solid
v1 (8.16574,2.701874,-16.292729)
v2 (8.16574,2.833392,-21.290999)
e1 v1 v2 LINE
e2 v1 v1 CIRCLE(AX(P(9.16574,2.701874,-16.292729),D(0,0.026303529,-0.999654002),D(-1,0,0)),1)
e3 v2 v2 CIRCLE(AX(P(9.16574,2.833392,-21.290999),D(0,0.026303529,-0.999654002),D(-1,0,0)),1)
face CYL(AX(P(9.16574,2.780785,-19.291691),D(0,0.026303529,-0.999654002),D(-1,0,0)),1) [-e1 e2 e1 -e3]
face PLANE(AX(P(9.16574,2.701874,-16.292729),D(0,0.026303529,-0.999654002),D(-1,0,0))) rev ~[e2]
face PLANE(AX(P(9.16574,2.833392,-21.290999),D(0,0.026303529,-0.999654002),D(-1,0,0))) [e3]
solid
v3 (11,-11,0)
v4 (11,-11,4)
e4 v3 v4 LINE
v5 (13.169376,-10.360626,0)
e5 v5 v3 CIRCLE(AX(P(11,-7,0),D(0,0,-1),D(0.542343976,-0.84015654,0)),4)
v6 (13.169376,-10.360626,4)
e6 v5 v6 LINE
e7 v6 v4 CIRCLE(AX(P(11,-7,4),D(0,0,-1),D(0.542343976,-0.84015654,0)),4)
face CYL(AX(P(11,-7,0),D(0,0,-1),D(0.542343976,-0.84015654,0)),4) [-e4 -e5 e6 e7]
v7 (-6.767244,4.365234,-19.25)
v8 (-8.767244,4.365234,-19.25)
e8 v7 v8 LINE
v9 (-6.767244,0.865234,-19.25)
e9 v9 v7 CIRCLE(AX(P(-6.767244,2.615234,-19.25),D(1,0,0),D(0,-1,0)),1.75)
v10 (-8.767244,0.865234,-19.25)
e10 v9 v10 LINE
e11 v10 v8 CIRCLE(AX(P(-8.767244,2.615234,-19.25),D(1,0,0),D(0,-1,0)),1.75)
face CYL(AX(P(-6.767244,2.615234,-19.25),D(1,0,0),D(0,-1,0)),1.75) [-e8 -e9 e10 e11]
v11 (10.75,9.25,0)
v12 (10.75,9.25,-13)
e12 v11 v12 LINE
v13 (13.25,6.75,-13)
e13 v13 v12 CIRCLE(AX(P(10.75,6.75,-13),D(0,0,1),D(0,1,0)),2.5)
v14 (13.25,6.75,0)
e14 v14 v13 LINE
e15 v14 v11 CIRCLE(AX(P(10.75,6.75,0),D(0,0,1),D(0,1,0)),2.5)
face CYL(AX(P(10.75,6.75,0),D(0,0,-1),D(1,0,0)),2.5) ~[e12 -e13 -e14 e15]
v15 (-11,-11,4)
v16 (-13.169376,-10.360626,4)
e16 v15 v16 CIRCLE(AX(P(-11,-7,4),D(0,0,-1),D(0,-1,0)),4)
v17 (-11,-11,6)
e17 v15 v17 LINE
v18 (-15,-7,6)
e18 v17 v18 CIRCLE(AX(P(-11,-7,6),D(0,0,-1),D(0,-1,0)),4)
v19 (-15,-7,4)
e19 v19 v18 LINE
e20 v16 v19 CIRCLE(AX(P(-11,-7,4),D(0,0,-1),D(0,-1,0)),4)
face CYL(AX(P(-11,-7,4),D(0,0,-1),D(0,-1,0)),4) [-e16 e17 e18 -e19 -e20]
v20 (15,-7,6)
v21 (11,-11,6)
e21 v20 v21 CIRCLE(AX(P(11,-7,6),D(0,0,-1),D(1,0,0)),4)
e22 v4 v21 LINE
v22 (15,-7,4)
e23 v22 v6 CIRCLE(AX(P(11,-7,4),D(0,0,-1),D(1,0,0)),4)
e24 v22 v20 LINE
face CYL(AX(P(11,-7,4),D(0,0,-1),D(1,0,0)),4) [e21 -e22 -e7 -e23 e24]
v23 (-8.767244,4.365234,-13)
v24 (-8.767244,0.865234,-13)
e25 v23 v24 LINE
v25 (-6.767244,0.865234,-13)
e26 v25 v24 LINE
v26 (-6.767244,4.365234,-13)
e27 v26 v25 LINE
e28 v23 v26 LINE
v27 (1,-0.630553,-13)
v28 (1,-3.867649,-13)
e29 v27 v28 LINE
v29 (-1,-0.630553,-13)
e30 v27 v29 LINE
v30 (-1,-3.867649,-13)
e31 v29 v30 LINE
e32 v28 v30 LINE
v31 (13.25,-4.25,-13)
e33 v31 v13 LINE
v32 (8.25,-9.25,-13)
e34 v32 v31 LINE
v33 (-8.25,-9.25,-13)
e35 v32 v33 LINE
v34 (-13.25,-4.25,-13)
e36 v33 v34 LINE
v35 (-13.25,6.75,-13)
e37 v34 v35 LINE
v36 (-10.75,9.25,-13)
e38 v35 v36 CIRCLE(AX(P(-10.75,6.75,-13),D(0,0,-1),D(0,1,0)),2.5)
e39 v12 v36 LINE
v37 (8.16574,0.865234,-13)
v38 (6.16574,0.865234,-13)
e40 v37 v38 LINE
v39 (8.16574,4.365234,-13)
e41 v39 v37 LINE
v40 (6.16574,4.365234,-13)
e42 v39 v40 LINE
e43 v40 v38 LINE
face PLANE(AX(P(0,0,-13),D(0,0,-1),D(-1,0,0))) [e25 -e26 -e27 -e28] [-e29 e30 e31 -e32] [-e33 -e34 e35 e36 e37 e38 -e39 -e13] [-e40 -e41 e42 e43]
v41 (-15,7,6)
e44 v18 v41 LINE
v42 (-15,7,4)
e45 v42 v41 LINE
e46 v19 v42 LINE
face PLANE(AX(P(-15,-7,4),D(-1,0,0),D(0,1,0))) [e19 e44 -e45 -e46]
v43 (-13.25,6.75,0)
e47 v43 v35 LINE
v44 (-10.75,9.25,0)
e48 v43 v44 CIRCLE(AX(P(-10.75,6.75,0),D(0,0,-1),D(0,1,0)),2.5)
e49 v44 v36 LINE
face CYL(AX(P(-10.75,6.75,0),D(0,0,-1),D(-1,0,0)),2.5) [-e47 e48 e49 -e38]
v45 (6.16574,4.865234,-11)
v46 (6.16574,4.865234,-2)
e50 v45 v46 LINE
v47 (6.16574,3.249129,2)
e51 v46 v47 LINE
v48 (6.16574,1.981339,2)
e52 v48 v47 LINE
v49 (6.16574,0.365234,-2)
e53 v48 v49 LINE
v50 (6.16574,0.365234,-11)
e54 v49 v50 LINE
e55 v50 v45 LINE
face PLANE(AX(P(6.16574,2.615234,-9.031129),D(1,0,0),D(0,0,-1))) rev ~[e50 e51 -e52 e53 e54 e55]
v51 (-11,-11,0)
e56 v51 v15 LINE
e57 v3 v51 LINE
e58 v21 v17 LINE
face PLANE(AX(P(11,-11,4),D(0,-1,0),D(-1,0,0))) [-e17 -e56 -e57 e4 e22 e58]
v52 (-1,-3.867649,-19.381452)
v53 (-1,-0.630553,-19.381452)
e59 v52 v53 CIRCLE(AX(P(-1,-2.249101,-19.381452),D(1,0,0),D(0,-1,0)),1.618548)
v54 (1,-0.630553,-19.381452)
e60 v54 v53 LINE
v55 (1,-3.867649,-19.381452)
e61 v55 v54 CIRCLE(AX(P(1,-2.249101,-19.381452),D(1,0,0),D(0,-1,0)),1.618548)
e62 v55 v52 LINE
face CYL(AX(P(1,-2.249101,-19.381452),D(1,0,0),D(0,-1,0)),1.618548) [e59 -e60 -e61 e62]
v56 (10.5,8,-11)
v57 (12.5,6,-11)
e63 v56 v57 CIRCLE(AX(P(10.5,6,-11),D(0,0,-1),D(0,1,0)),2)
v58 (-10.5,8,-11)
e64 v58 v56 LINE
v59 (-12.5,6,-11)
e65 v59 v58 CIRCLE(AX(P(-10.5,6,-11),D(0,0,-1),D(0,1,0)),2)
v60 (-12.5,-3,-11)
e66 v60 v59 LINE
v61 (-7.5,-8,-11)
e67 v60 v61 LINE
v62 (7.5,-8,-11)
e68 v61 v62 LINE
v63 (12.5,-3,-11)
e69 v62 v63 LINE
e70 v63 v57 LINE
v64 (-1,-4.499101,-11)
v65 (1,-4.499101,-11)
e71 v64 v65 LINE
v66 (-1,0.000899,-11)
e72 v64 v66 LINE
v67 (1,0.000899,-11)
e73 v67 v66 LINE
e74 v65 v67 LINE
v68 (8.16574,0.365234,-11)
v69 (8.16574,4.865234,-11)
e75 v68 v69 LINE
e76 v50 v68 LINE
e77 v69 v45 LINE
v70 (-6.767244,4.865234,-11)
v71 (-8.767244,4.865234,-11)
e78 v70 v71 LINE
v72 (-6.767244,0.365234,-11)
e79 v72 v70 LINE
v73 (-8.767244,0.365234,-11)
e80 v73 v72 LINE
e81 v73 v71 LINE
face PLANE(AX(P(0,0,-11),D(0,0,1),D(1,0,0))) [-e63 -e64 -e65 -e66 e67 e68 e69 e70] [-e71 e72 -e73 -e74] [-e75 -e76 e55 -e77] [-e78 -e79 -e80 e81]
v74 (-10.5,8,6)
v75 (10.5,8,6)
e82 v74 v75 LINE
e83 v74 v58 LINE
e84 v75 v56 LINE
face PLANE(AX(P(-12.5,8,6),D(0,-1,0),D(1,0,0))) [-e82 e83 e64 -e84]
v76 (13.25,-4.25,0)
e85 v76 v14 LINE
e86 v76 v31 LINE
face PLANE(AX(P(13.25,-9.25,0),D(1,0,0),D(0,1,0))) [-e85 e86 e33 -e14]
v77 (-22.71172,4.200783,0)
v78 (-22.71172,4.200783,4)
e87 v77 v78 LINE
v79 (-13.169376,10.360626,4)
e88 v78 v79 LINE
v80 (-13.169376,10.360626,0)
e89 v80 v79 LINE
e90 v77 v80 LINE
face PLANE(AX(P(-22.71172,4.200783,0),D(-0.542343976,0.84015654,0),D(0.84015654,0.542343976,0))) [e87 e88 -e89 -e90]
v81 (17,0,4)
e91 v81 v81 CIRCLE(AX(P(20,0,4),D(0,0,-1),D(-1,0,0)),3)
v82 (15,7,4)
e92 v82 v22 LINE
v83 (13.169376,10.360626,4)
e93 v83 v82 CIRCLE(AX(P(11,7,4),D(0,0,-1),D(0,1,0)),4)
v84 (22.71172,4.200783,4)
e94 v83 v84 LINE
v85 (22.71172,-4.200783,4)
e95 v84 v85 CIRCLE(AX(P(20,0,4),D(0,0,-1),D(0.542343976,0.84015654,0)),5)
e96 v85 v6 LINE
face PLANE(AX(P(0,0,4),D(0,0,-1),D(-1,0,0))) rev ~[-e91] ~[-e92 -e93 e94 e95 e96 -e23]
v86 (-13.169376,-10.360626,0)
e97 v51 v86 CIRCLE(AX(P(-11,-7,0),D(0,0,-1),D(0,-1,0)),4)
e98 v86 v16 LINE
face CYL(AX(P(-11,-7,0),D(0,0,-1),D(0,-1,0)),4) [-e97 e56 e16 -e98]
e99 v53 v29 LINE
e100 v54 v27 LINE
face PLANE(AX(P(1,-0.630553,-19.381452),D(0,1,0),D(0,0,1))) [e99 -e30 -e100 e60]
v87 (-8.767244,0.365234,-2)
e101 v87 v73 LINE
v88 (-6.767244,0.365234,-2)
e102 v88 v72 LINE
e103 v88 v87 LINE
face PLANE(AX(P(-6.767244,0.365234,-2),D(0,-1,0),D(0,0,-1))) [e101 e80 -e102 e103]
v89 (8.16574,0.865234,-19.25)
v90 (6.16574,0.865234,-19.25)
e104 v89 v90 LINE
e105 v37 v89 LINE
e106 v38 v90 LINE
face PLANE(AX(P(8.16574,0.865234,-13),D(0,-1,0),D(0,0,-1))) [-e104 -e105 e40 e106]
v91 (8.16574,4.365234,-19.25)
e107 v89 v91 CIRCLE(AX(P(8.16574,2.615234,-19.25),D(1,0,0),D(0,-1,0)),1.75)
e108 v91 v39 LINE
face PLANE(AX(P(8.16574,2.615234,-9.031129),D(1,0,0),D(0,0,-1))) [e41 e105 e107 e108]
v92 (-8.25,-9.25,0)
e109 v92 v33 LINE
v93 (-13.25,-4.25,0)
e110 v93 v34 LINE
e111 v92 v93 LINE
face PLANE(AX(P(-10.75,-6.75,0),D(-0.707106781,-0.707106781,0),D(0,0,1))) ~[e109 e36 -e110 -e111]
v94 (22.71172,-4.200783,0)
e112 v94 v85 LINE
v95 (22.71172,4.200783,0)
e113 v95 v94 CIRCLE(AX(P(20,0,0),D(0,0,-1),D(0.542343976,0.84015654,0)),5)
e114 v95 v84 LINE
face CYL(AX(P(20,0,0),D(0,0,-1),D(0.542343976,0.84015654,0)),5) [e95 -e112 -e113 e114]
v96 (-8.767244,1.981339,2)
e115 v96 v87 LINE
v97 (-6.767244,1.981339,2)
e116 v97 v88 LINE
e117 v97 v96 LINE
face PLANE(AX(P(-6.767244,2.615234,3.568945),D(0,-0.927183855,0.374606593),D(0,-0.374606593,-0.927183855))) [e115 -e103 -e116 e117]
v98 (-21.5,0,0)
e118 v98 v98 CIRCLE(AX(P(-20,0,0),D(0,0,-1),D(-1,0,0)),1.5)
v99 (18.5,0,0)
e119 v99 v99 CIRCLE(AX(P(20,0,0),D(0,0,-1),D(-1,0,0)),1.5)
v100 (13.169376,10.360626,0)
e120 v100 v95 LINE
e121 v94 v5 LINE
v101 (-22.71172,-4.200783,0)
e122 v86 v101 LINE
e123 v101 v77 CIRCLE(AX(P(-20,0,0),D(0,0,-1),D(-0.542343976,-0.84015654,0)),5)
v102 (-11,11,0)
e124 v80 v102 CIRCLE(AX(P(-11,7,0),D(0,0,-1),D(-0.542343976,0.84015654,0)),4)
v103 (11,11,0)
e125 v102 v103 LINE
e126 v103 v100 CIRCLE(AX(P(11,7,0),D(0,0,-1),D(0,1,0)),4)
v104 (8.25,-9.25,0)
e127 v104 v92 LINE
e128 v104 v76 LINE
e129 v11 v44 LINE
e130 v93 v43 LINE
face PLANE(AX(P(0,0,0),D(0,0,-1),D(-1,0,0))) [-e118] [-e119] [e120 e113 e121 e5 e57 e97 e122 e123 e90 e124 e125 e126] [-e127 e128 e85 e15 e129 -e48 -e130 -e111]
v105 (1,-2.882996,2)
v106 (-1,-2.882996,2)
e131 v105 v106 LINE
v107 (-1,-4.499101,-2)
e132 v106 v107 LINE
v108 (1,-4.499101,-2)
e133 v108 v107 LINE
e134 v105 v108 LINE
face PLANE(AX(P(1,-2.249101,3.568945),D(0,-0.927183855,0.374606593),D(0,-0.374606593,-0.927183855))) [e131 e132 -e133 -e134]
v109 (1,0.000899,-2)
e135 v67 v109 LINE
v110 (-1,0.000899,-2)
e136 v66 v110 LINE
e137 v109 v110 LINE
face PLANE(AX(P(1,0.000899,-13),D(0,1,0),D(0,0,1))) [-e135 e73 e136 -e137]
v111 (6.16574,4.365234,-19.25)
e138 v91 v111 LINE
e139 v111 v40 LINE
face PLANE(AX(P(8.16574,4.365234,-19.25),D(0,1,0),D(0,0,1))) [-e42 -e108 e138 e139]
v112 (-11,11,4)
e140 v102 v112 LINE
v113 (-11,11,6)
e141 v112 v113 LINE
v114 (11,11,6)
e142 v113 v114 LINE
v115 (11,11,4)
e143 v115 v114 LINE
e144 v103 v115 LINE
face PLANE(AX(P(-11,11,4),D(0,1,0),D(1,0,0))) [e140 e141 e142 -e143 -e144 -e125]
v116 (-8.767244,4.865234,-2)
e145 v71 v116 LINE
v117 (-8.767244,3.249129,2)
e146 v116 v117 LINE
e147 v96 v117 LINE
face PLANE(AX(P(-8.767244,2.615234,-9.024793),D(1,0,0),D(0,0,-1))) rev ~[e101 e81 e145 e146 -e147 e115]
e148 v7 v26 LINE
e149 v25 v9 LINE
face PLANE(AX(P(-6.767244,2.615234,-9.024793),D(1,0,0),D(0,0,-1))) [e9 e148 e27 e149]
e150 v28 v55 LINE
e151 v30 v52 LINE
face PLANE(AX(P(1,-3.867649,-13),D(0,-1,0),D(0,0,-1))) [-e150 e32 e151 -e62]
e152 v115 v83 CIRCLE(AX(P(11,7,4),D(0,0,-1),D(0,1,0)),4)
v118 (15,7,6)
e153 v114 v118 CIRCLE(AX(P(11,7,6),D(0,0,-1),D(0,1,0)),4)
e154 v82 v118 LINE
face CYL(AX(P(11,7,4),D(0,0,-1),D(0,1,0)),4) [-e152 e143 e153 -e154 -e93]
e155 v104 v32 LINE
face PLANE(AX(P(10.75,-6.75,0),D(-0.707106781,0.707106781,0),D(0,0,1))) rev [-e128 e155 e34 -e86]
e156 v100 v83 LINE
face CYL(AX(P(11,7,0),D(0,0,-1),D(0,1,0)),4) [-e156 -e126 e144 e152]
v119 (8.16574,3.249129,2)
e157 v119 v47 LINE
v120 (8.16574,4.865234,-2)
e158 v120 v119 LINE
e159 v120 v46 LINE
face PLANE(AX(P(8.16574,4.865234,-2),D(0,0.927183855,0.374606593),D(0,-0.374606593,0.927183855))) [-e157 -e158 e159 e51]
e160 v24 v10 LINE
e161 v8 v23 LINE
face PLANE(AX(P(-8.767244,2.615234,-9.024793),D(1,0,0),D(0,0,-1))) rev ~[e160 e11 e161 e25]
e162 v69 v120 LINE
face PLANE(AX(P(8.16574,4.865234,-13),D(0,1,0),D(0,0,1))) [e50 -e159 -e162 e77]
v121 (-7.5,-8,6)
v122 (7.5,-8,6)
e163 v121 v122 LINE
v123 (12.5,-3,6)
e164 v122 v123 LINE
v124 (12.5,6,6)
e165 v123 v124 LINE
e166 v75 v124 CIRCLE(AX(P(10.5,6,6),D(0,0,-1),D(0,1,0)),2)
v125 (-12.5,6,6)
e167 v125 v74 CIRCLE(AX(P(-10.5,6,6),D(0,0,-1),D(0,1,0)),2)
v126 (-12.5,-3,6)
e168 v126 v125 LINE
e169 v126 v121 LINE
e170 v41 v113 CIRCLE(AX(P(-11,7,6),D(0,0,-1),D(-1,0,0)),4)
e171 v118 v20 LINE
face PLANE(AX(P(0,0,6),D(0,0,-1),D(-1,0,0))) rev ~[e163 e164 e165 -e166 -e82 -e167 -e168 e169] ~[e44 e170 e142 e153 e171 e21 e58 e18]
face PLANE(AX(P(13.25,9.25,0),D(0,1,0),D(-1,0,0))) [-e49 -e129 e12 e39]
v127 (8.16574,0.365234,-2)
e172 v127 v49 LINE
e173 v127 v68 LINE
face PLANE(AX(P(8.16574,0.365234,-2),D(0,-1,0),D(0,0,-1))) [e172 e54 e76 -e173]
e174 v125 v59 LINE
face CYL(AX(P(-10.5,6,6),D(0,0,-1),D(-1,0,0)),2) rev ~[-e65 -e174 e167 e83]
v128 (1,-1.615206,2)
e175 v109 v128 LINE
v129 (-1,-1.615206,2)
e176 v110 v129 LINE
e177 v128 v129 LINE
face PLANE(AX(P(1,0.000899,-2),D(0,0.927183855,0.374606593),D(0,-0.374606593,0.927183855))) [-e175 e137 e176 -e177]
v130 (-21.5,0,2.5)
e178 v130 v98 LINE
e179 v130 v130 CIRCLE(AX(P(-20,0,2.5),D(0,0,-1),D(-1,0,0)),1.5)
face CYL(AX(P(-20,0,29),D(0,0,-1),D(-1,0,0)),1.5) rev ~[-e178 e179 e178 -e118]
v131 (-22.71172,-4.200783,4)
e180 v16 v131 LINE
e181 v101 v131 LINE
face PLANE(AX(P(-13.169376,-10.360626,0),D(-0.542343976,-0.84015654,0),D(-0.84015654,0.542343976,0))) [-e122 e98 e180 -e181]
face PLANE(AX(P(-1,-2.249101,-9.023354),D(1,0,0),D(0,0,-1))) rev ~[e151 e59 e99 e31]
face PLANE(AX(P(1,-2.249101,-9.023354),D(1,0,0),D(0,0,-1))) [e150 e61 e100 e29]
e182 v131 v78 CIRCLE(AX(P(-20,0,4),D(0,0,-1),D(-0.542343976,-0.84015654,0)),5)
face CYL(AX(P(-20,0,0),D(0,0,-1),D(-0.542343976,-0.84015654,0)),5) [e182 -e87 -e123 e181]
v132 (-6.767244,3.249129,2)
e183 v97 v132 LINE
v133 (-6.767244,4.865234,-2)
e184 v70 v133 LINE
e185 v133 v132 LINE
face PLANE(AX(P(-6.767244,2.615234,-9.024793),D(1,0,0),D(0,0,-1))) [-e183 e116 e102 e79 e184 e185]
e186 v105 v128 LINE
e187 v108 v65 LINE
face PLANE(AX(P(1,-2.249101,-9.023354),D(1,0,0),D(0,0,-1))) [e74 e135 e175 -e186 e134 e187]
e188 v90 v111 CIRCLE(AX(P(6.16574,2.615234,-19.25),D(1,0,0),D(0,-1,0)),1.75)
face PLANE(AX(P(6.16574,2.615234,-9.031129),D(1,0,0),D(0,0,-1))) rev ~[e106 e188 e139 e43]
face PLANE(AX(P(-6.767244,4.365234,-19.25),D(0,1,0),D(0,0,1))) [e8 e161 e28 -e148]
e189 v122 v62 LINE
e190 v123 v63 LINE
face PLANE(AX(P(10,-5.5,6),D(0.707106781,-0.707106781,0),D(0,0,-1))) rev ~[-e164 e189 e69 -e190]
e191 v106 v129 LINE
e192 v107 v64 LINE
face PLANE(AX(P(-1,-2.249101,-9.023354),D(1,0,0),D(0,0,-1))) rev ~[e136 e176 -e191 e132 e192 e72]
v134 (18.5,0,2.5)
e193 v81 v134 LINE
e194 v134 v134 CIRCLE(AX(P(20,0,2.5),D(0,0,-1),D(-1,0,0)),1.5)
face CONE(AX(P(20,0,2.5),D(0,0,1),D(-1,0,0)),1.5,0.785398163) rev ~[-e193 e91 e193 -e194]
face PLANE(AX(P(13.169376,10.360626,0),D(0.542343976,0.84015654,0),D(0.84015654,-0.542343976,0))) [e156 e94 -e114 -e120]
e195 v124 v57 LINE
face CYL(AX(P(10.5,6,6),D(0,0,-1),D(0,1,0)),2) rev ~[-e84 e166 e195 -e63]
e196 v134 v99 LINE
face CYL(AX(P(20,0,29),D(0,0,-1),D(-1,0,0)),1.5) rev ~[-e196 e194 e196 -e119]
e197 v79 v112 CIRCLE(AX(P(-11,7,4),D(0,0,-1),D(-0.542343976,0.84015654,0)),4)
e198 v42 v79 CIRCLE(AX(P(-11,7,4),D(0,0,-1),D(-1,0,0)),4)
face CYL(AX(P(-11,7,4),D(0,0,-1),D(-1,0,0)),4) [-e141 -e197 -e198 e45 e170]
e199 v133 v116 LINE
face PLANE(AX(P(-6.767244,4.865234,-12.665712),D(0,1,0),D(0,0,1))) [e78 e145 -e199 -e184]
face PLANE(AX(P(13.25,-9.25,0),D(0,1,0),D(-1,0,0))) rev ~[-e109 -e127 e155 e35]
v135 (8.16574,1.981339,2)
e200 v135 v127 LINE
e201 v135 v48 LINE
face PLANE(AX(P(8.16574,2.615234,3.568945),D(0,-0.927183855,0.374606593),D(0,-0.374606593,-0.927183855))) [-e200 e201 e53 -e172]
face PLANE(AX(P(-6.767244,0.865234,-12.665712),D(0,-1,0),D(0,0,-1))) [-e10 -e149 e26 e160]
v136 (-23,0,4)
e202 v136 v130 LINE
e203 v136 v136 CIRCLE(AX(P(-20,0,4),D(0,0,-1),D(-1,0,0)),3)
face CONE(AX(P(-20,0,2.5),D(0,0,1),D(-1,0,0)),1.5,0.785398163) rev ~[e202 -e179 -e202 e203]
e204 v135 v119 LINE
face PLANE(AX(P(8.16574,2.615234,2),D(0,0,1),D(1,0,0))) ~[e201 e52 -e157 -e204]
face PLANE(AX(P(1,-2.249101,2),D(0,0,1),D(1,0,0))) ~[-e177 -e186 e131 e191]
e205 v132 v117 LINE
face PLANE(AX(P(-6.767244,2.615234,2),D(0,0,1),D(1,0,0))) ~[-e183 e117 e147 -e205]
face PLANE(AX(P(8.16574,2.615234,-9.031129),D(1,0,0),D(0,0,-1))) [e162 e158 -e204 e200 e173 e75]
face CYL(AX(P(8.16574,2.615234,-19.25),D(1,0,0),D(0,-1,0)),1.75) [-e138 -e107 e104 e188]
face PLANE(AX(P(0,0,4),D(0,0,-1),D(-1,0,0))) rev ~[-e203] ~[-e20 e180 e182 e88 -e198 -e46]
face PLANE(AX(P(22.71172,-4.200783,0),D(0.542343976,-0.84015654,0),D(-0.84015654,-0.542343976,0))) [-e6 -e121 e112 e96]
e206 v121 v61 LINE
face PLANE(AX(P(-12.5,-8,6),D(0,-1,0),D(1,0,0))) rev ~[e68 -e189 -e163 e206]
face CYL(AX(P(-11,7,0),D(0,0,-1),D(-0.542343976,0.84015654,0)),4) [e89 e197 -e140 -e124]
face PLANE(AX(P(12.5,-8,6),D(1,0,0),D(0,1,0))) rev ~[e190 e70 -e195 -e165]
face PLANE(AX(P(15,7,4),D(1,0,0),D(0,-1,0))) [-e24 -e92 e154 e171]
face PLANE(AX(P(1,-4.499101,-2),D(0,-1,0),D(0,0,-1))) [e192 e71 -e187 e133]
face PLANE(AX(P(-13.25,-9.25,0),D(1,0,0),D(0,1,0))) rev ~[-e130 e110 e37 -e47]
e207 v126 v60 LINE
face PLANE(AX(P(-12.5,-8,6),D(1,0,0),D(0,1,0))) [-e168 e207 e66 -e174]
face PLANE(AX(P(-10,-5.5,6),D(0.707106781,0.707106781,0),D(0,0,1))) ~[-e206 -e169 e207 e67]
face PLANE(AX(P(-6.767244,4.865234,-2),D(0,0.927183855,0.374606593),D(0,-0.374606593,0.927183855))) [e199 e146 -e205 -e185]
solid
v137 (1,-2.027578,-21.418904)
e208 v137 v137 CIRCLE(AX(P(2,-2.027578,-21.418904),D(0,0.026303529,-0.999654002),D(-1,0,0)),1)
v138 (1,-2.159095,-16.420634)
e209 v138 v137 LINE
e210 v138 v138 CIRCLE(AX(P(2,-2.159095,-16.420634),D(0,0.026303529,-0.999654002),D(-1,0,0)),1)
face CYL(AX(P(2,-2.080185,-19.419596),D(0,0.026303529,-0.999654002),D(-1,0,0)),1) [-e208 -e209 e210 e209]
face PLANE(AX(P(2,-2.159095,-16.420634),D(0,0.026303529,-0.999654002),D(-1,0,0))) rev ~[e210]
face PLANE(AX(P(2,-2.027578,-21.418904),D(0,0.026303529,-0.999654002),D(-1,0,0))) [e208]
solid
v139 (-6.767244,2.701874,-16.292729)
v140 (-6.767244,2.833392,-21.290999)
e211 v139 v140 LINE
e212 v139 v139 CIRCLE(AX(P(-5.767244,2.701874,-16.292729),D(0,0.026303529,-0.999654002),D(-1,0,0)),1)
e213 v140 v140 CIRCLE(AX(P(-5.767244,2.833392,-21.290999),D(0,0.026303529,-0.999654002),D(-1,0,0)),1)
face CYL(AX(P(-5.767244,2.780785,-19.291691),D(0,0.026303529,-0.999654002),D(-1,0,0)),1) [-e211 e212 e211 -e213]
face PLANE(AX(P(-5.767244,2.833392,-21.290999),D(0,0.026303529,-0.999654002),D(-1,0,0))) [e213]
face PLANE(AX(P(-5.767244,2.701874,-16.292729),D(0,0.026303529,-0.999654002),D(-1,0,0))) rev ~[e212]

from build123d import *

# Parameters (mm, degrees)
BASE_DEPTH                       = 4
BOSS_EXTRUDE2_DEPTH              = 2
SKETCH3_W                        = 26.5
SKETCH3_H                        = 18.5
BOSS_EXTRUDE3_DEPTH              = 13
SKETCH4_W                        = 25
SKETCH4_H                        = 16
CUT_EXTRUDE1_DEPTH               = 17
GND_DEPTH                        = 2
EXTRUDE_L_DEPTH                  = 2
EXTRUDE_N_DEPTH                  = 2
MOUNT_3_0_3_DIAMETER_HOLE1_D     = 3
MOUNT_3_0_3_DIAMETER_HOLE1_DEPTH = 25
CHAMFER1_SIZE                    = 5
CHAMFER2_SIZE                    = 1.692162145
CHAMFER2_PART_2_SIZE             = 1.692162145
CHAMFER2_PART_3_SIZE             = 1.692162145
CHAMFER3_SIZE                    = 1.5
FILLET1_R                        = 2
FILLET2_R                        = 2.5
SOLDER_DEPTH                     = 2
SOLDER_DEPTH_BACK                = 3
SKETCH13_R                       = 1
SOLDER_2_DEPTH                   = 2
SOLDER_2_DEPTH_BACK              = 3
SOLDER_3_DEPTH                   = 2
SOLDER_3_DEPTH_BACK              = 3


with BuildPart() as part:
    # Sketch1 → Base (new body)
    with BuildSketch(Plane(origin=(0, 0, 0), x_dir=(-1, 0, 0), z_dir=(0, 0, -1))):
        with BuildLine():
            Line((-13.169375903, 10.360626161), (-22.711719879, 4.200782701))
            ThreePointArc((-22.711719879, 4.200782701), (-25, 0), (-22.711719879, -4.200782701))
            Line((-22.711719879, -4.200782701), (-13.169375903, -10.360626161))
            ThreePointArc((-13.169375903, -10.360626161), (-12.130817261, -10.83682842), (-11, -11))
            Line((-11, -11), (11, -11))
            ThreePointArc((11, -11), (12.130817261, -10.83682842), (13.169375903, -10.360626161))
            Line((13.169375903, -10.360626161), (22.711719879, -4.200782701))
            ThreePointArc((22.711719879, -4.200782701), (25, 0), (22.711719879, 4.200782701))
            Line((22.711719879, 4.200782701), (13.169375903, 10.360626161))
            ThreePointArc((13.169375903, 10.360626161), (12.130817261, 10.83682842), (11, 11))
            Line((11, 11), (-11, 11))
            ThreePointArc((-11, 11), (-12.130817261, 10.83682842), (-13.169375903, 10.360626161))
        make_face()
    extrude(amount=-BASE_DEPTH)

    # Sketch2 → Boss-Extrude2 (add)
    with BuildSketch(Plane.XY.offset(4)):
        with BuildLine():
            Line((11, -11), (-11, -11))
            ThreePointArc((-11, -11), (-13.828427125, -9.828427125), (-15, -7))
            Line((-15, -7), (-15, 7))
            ThreePointArc((-15, 7), (-13.828427125, 9.828427125), (-11, 11))
            Line((-11, 11), (11, 11))
            ThreePointArc((11, 11), (13.828427125, 9.828427125), (15, 7))
            Line((15, 7), (15, -7))
            ThreePointArc((15, -7), (13.828427125, -9.828427125), (11, -11))
        make_face()
    extrude(amount=BOSS_EXTRUDE2_DEPTH)

    # Sketch3 → Boss-Extrude3 (add)
    with BuildSketch(Plane(origin=(0, 0, 0), x_dir=(-1, 0, 0), z_dir=(0, 0, -1))):
        Rectangle(SKETCH3_W, SKETCH3_H)
    extrude(amount=BOSS_EXTRUDE3_DEPTH)

    # Sketch4 → Cut-Extrude1 (cut)
    with BuildSketch(Plane.XY.offset(6)):
        Rectangle(SKETCH4_W, SKETCH4_H)
    extrude(amount=-CUT_EXTRUDE1_DEPTH, mode=Mode.SUBTRACT)

    # Sketch5 → GND (add)
    with BuildSketch(Plane(origin=(1, 0, 0), x_dir=(0, 0, -1), z_dir=(1, 0, 0))):
        with BuildLine():
            Line((2, 0.000898958), (-3.56894542, -2.249101042))
            Line((-3.56894542, -2.249101042), (2, -4.499101042))
            Line((2, -4.499101042), (13, -4.499101042))
            Line((13, -4.499101042), (13, -3.867648726))
            Line((13, -3.867648726), (19.381452315, -3.867648726))
            ThreePointArc((19.381452315, -3.867648726), (21, -2.249101042), (19.381452315, -0.630553357))
            Line((19.381452315, -0.630553357), (13, -0.630553357))
            Line((13, -0.630553357), (13, 0.000898958))
            Line((13, 0.000898958), (2, 0.000898958))
        make_face()
    extrude(amount=-GND_DEPTH)

    # Sketch6 → Extrude L (add)
    with BuildSketch(Plane(origin=(-6.767244159, 0, 0), x_dir=(0, 0, -1), z_dir=(1, 0, 0))):
        with BuildLine():
            Line((2, 4.865233769), (-3.56894542, 2.615233769))
            Line((-3.56894542, 2.615233769), (2, 0.365233769))
            Line((2, 0.365233769), (12.665711597, 0.365233769))
            Line((12.665711597, 0.365233769), (12.665711597, 0.865233769))
            Line((12.665711597, 0.865233769), (19.25, 0.865233769))
            ThreePointArc((19.25, 0.865233769), (21, 2.615233769), (19.25, 4.365233769))
            Line((19.25, 4.365233769), (12.665711597, 4.365233769))
            Line((12.665711597, 4.365233769), (12.665711597, 4.865233769))
            Line((12.665711597, 4.865233769), (2, 4.865233769))
        make_face()
    extrude(amount=-EXTRUDE_L_DEPTH)

    # Sketch7 → Extrude N (add)
    with BuildSketch(Plane(origin=(8.165740402, 0, 0), x_dir=(0, 0, -1), z_dir=(1, 0, 0))):
        with BuildLine():
            Line((2, 4.865233769), (-3.56894542, 2.615233769))
            Line((-3.56894542, 2.615233769), (2, 0.365233769))
            Line((2, 0.365233769), (13, 0.365233769))
            Line((13, 0.365233769), (13, 0.865233769))
            Line((13, 0.865233769), (19.25, 0.865233769))
            ThreePointArc((19.25, 0.865233769), (21, 2.615233769), (19.25, 4.365233769))
            Line((19.25, 4.365233769), (13, 4.365233769))
            Line((13, 4.365233769), (13, 4.865233769))
            Line((13, 4.865233769), (2, 4.865233769))
        make_face()
    extrude(amount=-EXTRUDE_N_DEPTH)

    # Mount Ø3.0 (3) Diameter Hole1
    with Locations(Plane.XY.offset(4)):
        with Locations((-20, 0), (20, 0)):
            Hole(MOUNT_3_0_3_DIAMETER_HOLE1_D / 2, depth=MOUNT_3_0_3_DIAMETER_HOLE1_DEPTH)

    # Chamfer1
    chamfer1_edges = [part.edges().sort_by_distance(p)[0] for p in [
        (13.25, -9.25, -6.5),
        (-13.25, -9.25, -6.5),
        (12.5, -8, -2.5),
        (-12.5, -8, -2.5),
    ]]
    chamfer(chamfer1_edges, length=CHAMFER1_SIZE)

    # Chamfer2
    chamfer2_edges = [part.edges().sort_by_distance(p)[0] for p in [
        (0, -2.249101042, 3.56894542),
    ]]
    chamfer(chamfer2_edges, length=CHAMFER2_SIZE)

    # Chamfer2 part 2
    chamfer2_part_2_edges = [part.edges().sort_by_distance(p)[0] for p in [
        (-7.767244159, 2.615233769, 3.56894542),
    ]]
    chamfer(chamfer2_part_2_edges, length=CHAMFER2_PART_2_SIZE)

    # Chamfer2 part 3
    chamfer2_part_3_edges = [part.edges().sort_by_distance(p)[0] for p in [
        (7.165740402, 2.615233769, 3.56894542),
    ]]
    chamfer(chamfer2_part_3_edges, length=CHAMFER2_PART_3_SIZE)

    # Chamfer3
    chamfer3_edges = [part.edges().sort_by_distance(p)[0] for p in [
        (-18.5, 0, 4),
        (21.5, 0, 4),
    ]]
    chamfer(chamfer3_edges, length=CHAMFER3_SIZE)

    # Fillet1
    fillet1_edges = [part.edges().sort_by_distance(p)[0] for p in [
        (12.5, 8, -2.5),
        (-12.5, 8, -2.5),
    ]]
    fillet(fillet1_edges, radius=FILLET1_R)

    # Fillet2
    fillet2_edges = [part.edges().sort_by_distance(p)[0] for p in [
        (-13.25, 9.25, -6.5),
        (13.25, 9.25, -6.5),
    ]]
    fillet(fillet2_edges, radius=FILLET2_R)


with BuildPart() as body_2:
    # Sketch13 → Solder (new, two sides: drawn at the far end of the back side and taken through both)
    with BuildSketch(Plane(origin=(0, -0.008351756, -19.365080553), x_dir=(-1, 0, 0), z_dir=(0, 0.026303529294603365, -0.9996540023161254)).offset(-SOLDER_DEPTH_BACK)):
        with Locations((-9.165740402, 2.790101854)):
            Circle(SKETCH13_R)
    extrude(amount=SOLDER_DEPTH + SOLDER_DEPTH_BACK)


with BuildPart() as body_3:
    # Sketch13 → Solder 2 (new, two sides: drawn at the far end of the back side and taken through both)
    with BuildSketch(Plane(origin=(0, -0.008351756, -19.365080553), x_dir=(-1, 0, 0), z_dir=(0, 0.026303529294603365, -0.9996540023161254)).offset(-SOLDER_2_DEPTH_BACK)):
        with Locations((5.767244159, 2.790101854)):
            Circle(SKETCH13_R)
    extrude(amount=SOLDER_2_DEPTH + SOLDER_2_DEPTH_BACK)


with BuildPart() as body_4:
    # Sketch13 → Solder 3 (new, two sides: drawn at the far end of the back side and taken through both)
    with BuildSketch(Plane(origin=(0, -0.008351756, -19.365080553), x_dir=(-1, 0, 0), z_dir=(0, 0.026303529294603365, -0.9996540023161254)).offset(-SOLDER_3_DEPTH_BACK)):
        with Locations((-2, -2.072549909)):
            Circle(SKETCH13_R)
    extrude(amount=SOLDER_3_DEPTH + SOLDER_3_DEPTH_BACK)


solid = Compound([part.part, body_2.part, body_3.part, body_4.part])
